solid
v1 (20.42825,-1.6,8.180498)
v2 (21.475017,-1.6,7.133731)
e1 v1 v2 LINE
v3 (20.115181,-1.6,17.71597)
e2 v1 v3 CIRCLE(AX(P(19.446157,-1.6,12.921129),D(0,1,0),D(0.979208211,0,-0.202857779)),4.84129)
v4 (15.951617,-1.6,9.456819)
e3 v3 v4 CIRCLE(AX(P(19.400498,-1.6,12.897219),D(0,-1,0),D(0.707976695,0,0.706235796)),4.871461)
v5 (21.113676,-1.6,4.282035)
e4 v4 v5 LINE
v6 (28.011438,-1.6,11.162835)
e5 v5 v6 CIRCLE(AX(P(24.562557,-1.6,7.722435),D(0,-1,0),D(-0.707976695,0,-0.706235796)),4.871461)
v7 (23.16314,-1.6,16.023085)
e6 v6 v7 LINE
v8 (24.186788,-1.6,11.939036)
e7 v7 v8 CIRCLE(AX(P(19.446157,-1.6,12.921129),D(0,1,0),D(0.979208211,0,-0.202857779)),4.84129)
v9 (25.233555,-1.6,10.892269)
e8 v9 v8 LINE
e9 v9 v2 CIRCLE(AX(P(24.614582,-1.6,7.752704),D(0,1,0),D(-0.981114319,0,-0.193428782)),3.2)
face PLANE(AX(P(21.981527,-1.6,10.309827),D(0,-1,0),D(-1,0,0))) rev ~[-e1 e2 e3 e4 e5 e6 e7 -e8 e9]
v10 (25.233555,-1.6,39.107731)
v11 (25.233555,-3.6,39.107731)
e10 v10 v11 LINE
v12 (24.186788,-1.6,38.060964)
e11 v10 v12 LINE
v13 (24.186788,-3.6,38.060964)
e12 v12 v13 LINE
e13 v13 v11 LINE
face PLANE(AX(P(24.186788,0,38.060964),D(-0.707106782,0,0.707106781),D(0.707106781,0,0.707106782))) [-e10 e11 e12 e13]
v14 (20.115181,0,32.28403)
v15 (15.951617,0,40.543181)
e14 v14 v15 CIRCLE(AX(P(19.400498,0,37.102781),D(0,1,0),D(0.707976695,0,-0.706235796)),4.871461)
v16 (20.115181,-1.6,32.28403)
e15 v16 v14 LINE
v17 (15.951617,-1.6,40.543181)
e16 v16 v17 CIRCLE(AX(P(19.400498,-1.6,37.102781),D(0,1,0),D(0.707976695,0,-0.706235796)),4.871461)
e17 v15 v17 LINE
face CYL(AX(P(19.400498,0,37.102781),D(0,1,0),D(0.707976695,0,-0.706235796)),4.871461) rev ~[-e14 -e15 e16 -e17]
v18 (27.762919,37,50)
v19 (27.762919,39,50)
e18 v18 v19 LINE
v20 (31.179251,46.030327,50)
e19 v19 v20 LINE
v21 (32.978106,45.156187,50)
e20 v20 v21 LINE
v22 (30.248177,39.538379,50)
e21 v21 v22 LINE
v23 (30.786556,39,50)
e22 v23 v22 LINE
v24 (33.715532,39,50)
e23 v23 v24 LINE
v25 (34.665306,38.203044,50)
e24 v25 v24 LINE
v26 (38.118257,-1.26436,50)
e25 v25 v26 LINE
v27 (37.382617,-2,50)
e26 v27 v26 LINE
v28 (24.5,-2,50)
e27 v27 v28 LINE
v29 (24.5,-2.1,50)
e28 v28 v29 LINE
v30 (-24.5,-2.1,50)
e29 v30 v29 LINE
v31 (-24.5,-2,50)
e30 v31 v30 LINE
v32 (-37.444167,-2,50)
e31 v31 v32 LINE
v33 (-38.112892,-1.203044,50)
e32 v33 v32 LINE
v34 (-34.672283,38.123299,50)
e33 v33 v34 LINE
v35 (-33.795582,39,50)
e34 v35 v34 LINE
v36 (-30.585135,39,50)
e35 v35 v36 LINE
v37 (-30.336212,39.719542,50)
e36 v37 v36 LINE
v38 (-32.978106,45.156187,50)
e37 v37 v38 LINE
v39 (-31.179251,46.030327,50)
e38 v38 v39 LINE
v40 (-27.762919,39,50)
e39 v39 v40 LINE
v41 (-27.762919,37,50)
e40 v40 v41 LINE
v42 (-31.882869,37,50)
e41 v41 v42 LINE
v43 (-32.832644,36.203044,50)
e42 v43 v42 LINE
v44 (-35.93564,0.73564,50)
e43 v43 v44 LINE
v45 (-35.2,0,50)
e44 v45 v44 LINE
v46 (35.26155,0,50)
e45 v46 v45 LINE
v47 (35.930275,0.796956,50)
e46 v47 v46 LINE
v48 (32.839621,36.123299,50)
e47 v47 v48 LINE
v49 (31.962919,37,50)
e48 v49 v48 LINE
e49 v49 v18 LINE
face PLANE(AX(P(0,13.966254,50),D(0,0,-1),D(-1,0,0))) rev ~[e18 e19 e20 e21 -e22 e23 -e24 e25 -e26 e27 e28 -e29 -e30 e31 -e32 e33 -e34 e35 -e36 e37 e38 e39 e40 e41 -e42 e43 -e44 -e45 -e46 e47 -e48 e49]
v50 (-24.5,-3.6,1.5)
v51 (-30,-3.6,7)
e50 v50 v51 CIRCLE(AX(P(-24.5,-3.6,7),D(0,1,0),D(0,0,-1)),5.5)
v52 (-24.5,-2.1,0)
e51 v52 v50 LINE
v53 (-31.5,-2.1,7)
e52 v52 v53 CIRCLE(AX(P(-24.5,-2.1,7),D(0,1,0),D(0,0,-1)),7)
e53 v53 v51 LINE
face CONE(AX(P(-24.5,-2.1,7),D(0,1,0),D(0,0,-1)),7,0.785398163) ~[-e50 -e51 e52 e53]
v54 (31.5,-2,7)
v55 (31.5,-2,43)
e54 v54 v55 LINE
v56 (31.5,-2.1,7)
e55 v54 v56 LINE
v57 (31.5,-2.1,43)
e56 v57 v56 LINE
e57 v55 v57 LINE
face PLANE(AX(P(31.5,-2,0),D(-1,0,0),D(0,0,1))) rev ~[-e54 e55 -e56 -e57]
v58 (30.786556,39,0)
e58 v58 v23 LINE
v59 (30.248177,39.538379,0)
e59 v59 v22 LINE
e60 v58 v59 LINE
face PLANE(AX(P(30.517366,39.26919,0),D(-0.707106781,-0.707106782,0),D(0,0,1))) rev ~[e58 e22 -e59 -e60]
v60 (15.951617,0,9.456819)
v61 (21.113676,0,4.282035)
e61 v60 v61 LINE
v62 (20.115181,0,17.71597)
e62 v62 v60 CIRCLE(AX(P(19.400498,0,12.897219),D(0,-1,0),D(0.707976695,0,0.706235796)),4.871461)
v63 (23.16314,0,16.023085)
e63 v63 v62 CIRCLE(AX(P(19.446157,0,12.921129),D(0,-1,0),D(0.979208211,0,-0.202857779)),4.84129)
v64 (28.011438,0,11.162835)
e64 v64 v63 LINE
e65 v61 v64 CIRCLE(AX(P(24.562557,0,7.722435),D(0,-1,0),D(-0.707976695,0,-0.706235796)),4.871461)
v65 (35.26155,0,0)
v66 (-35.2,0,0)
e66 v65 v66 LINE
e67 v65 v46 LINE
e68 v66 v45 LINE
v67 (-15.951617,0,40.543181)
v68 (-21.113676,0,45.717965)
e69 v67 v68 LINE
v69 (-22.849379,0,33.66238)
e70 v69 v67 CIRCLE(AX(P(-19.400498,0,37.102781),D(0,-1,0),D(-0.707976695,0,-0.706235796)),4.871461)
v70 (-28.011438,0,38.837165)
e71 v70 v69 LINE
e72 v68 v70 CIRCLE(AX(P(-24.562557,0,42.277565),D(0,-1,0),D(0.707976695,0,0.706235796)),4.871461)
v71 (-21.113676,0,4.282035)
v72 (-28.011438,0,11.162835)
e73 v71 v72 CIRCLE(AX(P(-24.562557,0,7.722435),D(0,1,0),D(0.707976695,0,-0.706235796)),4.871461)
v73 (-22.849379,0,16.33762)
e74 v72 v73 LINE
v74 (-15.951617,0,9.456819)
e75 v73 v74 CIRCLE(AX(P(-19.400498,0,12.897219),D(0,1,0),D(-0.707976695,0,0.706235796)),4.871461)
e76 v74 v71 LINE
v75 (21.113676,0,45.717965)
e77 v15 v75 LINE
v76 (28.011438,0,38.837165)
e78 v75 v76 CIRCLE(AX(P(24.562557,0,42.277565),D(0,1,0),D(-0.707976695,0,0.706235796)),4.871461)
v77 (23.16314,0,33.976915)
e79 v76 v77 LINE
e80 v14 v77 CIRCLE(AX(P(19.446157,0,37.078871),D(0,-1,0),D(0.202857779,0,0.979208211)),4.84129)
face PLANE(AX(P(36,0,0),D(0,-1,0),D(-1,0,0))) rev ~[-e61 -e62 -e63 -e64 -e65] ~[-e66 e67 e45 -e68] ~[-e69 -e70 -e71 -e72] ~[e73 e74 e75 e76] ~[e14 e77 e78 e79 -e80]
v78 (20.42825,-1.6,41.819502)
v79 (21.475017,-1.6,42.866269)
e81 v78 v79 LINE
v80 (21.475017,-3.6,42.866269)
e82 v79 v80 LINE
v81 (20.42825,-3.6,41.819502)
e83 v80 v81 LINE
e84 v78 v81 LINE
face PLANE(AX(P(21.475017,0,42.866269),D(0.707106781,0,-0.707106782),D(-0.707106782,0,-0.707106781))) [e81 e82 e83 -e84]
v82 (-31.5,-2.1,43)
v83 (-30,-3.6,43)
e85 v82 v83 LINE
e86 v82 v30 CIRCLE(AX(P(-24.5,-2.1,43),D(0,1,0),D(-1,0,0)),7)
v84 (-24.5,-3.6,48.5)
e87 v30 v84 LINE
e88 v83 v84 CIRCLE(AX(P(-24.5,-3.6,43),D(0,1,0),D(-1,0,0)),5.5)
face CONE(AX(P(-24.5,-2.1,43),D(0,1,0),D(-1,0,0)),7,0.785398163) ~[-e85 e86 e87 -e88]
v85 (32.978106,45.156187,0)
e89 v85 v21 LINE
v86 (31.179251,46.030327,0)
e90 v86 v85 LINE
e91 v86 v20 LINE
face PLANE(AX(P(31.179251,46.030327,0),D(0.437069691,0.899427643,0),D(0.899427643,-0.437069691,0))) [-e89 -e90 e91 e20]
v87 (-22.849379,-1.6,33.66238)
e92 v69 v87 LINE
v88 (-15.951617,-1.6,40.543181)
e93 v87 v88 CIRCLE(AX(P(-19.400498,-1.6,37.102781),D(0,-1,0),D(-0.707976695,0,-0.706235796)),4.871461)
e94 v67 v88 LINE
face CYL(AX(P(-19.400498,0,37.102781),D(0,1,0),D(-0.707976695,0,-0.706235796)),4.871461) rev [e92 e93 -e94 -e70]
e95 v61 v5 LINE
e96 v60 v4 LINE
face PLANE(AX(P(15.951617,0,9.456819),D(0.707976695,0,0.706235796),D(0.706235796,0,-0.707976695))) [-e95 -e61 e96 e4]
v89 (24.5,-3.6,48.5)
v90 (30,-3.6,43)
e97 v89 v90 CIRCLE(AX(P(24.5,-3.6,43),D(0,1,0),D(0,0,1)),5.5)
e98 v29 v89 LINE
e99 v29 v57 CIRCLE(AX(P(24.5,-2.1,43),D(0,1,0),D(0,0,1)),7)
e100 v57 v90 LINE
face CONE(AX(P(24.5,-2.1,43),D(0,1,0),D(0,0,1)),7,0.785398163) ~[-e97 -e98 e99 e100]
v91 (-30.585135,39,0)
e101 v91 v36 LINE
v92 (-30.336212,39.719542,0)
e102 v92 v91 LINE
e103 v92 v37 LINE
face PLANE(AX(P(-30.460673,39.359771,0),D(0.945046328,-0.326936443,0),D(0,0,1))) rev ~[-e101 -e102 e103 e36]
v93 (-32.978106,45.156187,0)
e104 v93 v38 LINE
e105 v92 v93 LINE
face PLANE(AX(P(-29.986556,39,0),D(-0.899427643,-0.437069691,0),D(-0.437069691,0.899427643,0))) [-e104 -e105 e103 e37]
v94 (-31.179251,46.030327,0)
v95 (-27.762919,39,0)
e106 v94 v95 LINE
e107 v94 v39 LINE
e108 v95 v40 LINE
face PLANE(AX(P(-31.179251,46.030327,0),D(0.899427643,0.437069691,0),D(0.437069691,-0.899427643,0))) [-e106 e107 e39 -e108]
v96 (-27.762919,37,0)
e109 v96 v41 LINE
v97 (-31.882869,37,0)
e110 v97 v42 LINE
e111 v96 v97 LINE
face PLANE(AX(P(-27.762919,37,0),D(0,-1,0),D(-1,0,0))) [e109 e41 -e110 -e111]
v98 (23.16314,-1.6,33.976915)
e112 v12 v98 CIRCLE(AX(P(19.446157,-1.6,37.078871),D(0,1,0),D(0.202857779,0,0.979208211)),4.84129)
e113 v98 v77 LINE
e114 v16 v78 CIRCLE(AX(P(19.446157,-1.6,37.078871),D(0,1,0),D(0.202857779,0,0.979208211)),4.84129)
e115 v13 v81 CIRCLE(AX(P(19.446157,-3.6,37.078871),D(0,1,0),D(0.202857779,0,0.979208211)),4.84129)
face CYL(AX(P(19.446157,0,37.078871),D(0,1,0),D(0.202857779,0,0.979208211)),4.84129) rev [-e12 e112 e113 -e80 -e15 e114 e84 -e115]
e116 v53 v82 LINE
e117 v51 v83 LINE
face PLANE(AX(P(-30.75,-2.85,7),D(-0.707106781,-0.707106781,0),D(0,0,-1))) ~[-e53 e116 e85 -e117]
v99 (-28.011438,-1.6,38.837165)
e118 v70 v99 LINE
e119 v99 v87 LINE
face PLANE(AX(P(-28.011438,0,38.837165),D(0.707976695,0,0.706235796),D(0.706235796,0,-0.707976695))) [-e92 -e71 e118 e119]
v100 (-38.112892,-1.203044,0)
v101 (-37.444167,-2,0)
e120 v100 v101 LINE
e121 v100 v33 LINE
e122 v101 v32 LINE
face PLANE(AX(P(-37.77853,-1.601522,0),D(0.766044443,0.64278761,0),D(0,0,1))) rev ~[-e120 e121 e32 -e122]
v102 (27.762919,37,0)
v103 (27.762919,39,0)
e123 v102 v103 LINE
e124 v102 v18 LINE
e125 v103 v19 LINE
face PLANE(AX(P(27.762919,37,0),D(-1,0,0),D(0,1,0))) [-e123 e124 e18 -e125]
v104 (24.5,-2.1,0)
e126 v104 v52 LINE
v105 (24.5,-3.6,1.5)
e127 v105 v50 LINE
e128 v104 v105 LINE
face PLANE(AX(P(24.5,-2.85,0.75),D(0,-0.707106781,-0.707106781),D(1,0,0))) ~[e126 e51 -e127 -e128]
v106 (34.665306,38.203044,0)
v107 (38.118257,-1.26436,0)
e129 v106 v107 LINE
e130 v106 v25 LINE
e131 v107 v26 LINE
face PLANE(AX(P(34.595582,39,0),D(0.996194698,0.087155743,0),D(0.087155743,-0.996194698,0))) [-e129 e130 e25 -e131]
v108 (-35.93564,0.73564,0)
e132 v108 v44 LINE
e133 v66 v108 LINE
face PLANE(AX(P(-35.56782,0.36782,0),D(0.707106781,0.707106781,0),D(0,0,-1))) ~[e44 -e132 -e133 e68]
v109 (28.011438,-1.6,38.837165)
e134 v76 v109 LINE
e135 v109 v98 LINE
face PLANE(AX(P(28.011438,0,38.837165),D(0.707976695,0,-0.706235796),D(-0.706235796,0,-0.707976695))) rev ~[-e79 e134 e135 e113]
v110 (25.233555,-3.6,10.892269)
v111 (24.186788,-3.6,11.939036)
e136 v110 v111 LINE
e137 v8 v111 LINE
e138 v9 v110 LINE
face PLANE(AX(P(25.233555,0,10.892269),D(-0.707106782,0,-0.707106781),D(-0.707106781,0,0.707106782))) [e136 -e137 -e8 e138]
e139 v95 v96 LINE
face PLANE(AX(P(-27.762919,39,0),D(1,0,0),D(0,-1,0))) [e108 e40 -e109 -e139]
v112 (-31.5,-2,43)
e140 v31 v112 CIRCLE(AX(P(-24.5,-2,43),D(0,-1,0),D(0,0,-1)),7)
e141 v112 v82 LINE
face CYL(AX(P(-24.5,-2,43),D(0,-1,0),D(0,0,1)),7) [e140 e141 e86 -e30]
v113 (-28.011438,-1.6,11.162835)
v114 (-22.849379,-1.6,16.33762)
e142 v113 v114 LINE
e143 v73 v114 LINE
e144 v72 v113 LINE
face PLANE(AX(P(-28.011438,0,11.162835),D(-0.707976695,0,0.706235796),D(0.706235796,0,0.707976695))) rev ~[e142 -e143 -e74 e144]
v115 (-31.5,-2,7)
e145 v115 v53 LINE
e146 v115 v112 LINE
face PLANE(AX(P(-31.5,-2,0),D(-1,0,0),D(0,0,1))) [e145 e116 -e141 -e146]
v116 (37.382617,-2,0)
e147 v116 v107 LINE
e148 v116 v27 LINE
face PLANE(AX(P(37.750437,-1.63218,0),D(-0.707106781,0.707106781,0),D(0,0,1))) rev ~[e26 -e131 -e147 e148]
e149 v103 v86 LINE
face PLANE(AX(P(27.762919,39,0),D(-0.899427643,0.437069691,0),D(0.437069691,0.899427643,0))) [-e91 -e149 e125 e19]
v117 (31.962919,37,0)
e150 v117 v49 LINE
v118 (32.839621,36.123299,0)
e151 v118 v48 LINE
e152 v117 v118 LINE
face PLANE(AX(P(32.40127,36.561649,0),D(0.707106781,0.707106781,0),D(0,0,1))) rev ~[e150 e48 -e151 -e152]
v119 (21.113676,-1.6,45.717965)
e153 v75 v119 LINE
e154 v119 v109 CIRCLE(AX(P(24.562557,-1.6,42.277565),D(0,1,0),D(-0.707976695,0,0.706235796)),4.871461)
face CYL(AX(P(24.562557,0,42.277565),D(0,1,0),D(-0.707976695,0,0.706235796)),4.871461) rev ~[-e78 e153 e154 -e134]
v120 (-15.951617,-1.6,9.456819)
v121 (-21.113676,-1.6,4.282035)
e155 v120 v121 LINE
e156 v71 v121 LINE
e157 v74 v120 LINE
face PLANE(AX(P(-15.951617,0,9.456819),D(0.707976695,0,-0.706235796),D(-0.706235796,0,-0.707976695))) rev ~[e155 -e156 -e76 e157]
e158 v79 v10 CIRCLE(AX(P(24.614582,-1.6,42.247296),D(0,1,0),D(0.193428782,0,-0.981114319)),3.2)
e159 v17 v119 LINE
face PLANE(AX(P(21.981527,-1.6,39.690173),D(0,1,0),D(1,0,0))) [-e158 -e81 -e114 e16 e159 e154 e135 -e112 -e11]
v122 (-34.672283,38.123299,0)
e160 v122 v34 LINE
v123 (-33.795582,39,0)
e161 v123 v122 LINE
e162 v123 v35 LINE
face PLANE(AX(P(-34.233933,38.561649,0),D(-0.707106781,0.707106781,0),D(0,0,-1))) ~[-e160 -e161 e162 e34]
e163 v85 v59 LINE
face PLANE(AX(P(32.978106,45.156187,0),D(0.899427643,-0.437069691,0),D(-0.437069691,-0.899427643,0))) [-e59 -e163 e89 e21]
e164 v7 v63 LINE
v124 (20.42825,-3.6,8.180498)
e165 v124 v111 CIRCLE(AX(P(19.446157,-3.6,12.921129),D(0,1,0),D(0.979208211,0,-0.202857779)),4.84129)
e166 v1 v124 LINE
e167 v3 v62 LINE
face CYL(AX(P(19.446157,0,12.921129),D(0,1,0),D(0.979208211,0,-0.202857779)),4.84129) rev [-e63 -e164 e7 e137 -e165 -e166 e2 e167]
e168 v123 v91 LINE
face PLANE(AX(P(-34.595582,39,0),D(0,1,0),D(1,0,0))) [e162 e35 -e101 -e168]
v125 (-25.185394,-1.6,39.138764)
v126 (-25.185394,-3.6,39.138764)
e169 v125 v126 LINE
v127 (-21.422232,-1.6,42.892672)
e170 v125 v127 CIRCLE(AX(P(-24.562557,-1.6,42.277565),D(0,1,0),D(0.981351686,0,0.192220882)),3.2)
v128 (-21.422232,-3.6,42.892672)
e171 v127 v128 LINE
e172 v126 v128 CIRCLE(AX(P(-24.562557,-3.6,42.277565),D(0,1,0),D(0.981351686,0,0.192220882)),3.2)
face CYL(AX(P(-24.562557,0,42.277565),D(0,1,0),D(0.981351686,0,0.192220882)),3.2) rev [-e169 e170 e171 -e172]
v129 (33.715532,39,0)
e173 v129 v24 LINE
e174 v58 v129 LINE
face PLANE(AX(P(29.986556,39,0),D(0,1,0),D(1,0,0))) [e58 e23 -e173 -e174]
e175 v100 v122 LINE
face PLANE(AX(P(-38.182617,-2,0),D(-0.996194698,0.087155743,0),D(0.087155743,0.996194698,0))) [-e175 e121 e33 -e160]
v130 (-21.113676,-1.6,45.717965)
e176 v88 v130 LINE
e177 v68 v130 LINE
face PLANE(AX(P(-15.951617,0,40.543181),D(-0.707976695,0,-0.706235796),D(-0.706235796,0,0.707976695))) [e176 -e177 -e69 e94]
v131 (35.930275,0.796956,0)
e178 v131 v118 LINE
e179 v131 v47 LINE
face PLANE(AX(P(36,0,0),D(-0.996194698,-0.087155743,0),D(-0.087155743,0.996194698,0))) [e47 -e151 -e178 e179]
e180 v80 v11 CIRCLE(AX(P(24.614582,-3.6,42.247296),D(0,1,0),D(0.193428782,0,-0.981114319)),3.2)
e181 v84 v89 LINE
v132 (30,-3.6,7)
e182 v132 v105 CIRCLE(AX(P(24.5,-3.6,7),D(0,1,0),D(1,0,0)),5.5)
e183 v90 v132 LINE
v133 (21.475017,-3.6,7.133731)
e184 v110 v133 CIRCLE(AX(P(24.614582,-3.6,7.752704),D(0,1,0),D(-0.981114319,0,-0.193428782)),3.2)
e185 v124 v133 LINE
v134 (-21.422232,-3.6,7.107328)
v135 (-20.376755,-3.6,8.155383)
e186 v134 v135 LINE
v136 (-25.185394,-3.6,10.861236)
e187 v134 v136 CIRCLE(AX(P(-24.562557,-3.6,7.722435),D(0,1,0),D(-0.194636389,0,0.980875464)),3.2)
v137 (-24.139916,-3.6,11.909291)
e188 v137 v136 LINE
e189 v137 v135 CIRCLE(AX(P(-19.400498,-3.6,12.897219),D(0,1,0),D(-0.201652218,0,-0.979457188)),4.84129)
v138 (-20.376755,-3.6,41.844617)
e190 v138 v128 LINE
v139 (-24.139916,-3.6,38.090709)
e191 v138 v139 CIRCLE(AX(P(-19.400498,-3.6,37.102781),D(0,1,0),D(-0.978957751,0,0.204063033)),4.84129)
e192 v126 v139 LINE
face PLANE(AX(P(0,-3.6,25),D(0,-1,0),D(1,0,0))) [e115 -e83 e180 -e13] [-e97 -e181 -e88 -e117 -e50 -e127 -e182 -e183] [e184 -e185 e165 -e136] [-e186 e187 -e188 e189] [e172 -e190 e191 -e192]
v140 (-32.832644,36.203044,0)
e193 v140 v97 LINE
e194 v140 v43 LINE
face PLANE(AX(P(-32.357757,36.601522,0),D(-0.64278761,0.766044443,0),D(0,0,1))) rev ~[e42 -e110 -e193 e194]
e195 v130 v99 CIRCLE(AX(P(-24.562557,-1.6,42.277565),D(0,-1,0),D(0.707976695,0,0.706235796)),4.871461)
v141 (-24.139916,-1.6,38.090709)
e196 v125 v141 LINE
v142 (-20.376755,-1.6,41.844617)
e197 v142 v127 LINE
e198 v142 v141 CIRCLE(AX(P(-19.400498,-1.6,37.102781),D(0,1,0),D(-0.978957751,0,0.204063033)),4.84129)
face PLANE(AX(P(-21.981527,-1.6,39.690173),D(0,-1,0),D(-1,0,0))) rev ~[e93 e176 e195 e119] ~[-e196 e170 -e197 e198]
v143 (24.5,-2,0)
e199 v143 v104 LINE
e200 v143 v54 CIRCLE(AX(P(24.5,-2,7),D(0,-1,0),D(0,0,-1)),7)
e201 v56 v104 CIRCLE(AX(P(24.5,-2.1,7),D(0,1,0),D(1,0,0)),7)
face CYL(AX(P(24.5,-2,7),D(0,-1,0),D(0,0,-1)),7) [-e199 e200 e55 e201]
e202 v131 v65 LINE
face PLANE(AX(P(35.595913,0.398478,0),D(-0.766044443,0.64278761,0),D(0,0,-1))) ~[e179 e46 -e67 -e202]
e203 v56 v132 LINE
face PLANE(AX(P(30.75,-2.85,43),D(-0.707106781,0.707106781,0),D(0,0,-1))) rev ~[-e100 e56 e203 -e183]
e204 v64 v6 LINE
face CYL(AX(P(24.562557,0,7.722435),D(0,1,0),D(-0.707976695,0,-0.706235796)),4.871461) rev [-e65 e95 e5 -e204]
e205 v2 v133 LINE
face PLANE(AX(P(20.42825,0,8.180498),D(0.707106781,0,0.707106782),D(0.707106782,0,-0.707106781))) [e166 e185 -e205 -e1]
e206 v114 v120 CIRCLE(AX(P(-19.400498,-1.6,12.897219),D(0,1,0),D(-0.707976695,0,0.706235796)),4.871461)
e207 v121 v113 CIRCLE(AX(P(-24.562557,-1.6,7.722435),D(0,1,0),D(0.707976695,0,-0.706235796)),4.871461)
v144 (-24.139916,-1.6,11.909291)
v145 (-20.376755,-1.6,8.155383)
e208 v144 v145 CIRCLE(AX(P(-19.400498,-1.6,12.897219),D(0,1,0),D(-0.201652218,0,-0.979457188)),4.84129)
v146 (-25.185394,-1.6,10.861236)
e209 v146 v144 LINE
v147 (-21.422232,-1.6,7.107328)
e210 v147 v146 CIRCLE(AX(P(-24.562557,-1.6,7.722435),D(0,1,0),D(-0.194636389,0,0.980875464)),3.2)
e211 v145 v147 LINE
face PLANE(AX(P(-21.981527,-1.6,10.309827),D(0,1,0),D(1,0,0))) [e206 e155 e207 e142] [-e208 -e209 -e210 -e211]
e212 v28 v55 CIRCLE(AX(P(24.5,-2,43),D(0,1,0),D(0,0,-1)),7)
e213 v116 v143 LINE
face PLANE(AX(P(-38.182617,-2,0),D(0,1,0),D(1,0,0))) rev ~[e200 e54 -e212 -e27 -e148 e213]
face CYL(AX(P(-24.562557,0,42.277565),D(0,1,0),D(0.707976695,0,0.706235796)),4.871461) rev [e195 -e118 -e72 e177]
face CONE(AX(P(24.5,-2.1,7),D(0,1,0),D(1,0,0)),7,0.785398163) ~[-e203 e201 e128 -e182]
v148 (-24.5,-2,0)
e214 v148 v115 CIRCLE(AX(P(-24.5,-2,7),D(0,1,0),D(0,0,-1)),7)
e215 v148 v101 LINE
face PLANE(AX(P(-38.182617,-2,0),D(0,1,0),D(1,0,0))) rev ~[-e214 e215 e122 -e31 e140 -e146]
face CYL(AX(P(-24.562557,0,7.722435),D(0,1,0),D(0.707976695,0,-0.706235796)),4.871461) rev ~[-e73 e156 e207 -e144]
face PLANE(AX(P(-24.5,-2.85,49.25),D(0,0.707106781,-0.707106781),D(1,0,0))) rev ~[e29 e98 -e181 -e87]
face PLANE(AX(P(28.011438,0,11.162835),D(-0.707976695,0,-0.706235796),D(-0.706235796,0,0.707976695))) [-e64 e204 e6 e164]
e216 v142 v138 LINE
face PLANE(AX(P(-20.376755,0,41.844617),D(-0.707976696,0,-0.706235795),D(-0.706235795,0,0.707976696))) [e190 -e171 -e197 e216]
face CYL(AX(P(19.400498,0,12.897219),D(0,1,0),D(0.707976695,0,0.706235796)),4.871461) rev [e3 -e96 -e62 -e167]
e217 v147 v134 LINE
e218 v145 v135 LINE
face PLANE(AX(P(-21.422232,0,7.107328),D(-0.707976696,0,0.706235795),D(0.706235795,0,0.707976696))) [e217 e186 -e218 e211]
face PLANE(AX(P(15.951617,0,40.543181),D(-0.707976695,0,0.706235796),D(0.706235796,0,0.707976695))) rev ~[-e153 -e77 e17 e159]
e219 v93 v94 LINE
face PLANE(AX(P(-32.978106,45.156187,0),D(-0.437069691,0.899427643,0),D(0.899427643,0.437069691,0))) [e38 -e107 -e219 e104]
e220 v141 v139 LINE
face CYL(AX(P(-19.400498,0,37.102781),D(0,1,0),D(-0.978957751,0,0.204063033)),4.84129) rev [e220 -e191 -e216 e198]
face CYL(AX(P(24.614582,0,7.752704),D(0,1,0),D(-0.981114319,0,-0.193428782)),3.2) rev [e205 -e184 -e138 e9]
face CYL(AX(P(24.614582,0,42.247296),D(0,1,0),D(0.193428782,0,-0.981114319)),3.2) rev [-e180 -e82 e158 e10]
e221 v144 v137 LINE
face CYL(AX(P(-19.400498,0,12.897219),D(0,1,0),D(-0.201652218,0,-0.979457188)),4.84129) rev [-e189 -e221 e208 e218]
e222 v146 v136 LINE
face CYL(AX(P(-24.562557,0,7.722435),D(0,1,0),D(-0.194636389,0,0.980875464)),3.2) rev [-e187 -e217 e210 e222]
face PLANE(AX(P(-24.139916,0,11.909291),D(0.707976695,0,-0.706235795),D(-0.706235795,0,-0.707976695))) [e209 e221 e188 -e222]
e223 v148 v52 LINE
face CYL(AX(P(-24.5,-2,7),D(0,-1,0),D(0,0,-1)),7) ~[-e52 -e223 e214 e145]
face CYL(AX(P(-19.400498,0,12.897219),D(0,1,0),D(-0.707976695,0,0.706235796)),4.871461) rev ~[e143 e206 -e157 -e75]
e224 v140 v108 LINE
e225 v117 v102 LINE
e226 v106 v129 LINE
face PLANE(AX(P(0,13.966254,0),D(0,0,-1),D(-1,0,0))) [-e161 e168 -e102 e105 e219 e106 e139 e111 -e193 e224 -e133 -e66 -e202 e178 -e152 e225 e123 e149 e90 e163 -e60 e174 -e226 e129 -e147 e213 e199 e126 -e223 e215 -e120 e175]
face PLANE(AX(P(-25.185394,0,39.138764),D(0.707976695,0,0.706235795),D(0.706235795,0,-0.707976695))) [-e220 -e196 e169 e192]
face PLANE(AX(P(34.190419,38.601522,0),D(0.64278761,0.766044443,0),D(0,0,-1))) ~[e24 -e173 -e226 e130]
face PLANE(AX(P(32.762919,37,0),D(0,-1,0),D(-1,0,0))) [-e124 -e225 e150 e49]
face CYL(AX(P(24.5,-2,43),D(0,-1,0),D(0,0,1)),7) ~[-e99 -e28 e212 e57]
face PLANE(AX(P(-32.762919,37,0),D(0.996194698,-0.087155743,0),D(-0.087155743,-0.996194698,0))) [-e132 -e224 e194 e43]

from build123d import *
from OCP.BRepFilletAPI import BRepFilletAPI_MakeChamfer

# Parameters (mm, degrees)
BOSS_EXTRUDE1_DEPTH = 50
SKETCH5_W           = 63
SKETCH5_H           = 50
BOSS_EXTRUDE2_DEPTH = 1.6
CHAMFER6_SIZE       = 0.8
CHAMFER6_SIZE2      = 0.738449877
CHAMFER7_SIZE       = 0.8
CHAMFER7_SIZE2      = 0.880050294
CHAMFER7_SIZE2_2    = 0.59857957
FILLET1_R           = 7
CHAMFER10_SIZE      = 1.5
CUT_EXTRUDE5_REACH  = 79.922
CUT_EXTRUDE6_DEPTH  = 1.6


with BuildPart() as part:
    # Sketch1 → Boss-Extrude1 (new body)
    with BuildSketch(Plane.XY):
        Polygon((-34.595581798, 39), (-29.986555798, 39), (-32.97810591, 45.15618727), (-31.179250624, 46.030326652), (-27.76291945, 39), (-27.76291945, 37), (-32.76291945, 37), (-36, 0), (0, 0), (36, 0), (32.76291945, 37), (27.76291945, 37), (27.76291945, 39), (31.179250624, 46.030326652), (32.97810591, 45.15618727), (29.986555798, 39), (34.595581798, 39), (38.182617002, -2), (0, -2), (-38.182617002, -2), align=None)
    extrude(amount=BOSS_EXTRUDE1_DEPTH)

    # Sketch5 → Boss-Extrude2 (add)
    with BuildSketch(Plane.XZ.offset(2)):
        with Locations((0, 25)):
            Rectangle(SKETCH5_W, SKETCH5_H)
    extrude(amount=BOSS_EXTRUDE2_DEPTH)

    # Chamfer6: one chamfer whose edges measure the first distance from different faces: ONE call of the kernel's chamfer builder (chamfer() names one face for all edges)
    chamfer6_edges_1 = [part.edges().sort_by_distance(p)[0] for p in [
        (-36, 0, 25),
    ]]
    chamfer6_side_1 = [part.faces().sort_by_distance(p)[0] for p in [
        (0, 0, 25),
    ]]
    chamfer6_edges_2 = [part.edges().sort_by_distance(p)[0] for p in [
        (36, 0, 25),
    ]]
    chamfer6_side_2 = [part.faces().sort_by_distance(p)[0] for p in [
        (34.381459725, 18.5, 25),
    ]]
    chamfer6_edges_3 = [part.edges().sort_by_distance(p)[0] for p in [
        (38.182617002, -2, 25),
    ]]
    chamfer6_side_3 = [part.faces().sort_by_distance(p)[0] for p in [
        (34.841308501, -2, 25),
    ]]
    chamfer6_edges_4 = [part.edges().sort_by_distance(p)[0] for p in [
        (-38.182617002, -2, 25),
    ]]
    chamfer6_side_4 = [part.faces().sort_by_distance(p)[0] for p in [
        (-36.3890994, 18.5, 25),
    ]]
    chamfer6 = BRepFilletAPI_MakeChamfer(part.part.solid().wrapped)
    for e in chamfer6_edges_1:
        chamfer6.Add(CHAMFER6_SIZE, CHAMFER6_SIZE2, e.wrapped, chamfer6_side_1[0].wrapped)  # the first distance lies on this face
    for e in chamfer6_edges_2:
        chamfer6.Add(CHAMFER6_SIZE, CHAMFER6_SIZE2, e.wrapped, chamfer6_side_2[0].wrapped)  # the first distance lies on this face
    for e in chamfer6_edges_3:
        chamfer6.Add(CHAMFER6_SIZE, CHAMFER6_SIZE2, e.wrapped, chamfer6_side_3[0].wrapped)  # the first distance lies on this face
    for e in chamfer6_edges_4:
        chamfer6.Add(CHAMFER6_SIZE, CHAMFER6_SIZE2, e.wrapped, chamfer6_side_4[0].wrapped)  # the first distance lies on this face
    add(Compound.cast(chamfer6.Shape()), mode=Mode.REPLACE)

    # Chamfer7: one chamfer whose edges measure the first distance from different faces: ONE call of the kernel's chamfer builder (chamfer() names one face for all edges)
    chamfer7_edges_1 = [part.edges().sort_by_distance(p)[0] for p in [
        (-32.76291945, 37, 25),
    ]]
    chamfer7_side_1 = [part.faces().sort_by_distance(p)[0] for p in [
        (-34.349279651, 18.867819926, 25),
    ]]
    chamfer7_edges_2 = [part.edges().sort_by_distance(p)[0] for p in [
        (32.76291945, 37, 25),
    ]]
    chamfer7_side_2 = [part.faces().sort_by_distance(p)[0] for p in [
        (30.26291945, 37, 25),
    ]]
    chamfer7_edges_3 = [part.edges().sort_by_distance(p)[0] for p in [
        (29.986555798, 39, 25),
    ]]
    chamfer7_side_3 = [part.faces().sort_by_distance(p)[0] for p in [
        (32.291068798, 39, 25),
    ]]
    chamfer7_edges_4 = [part.edges().sort_by_distance(p)[0] for p in [
        (34.595581798, 39, 25),
    ]]
    chamfer7_side_4 = [part.faces().sort_by_distance(p)[0] for p in [
        (36.356919326, 18.867819926, 25),
    ]]
    chamfer7_edges_5 = [part.edges().sort_by_distance(p)[0] for p in [
        (-34.595581798, 39, 25),
    ]]
    chamfer7_side_5 = [part.faces().sort_by_distance(p)[0] for p in [
        (-32.291068798, 39, 25),
    ]]
    chamfer7_edges_6 = [part.edges().sort_by_distance(p)[0] for p in [
        (-29.986555798, 39, 25),
    ]]
    chamfer7_side_6 = [part.faces().sort_by_distance(p)[0] for p in [
        (-31.482330854, 42.078093635, 25),
    ]]
    chamfer7 = BRepFilletAPI_MakeChamfer(part.part.solid().wrapped)
    for e in chamfer7_edges_1:
        chamfer7.Add(CHAMFER7_SIZE, CHAMFER7_SIZE2, e.wrapped, chamfer7_side_1[0].wrapped)  # the first distance lies on this face
    for e in chamfer7_edges_2:
        chamfer7.Add(CHAMFER7_SIZE, CHAMFER7_SIZE2, e.wrapped, chamfer7_side_2[0].wrapped)  # the first distance lies on this face
    for e in chamfer7_edges_3:
        chamfer7.Add(CHAMFER7_SIZE, CHAMFER7_SIZE2_2, e.wrapped, chamfer7_side_3[0].wrapped)  # the first distance lies on this face
    for e in chamfer7_edges_4:
        chamfer7.Add(CHAMFER7_SIZE, CHAMFER7_SIZE2, e.wrapped, chamfer7_side_4[0].wrapped)  # the first distance lies on this face
    for e in chamfer7_edges_5:
        chamfer7.Add(CHAMFER7_SIZE, CHAMFER7_SIZE2, e.wrapped, chamfer7_side_5[0].wrapped)  # the first distance lies on this face
    for e in chamfer7_edges_6:
        chamfer7.Add(CHAMFER7_SIZE, CHAMFER7_SIZE2_2, e.wrapped, chamfer7_side_6[0].wrapped)  # the first distance lies on this face
    add(Compound.cast(chamfer7.Shape()), mode=Mode.REPLACE)

    # Fillet1
    fillet1_edges = [part.edges().sort_by_distance(p)[0] for p in [
        (-31.5, -2.8, 0),
        (31.5, -2.8, 0),
        (31.5, -2.8, 50),
        (-31.5, -2.8, 50),
    ]]
    fillet(fillet1_edges, radius=FILLET1_R)

    # Chamfer10
    chamfer10_edges = [part.edges().sort_by_distance(p)[0] for p in [
        (-31.5, -3.6, 25),
        (0, -3.6, 50),
        (0, -3.6, 0),
        (31.5, -3.6, 25),
        (29.449747468, -3.6, 47.949747468),
        (29.449747468, -3.6, 2.050252532),
        (-29.449747468, -3.6, 2.050252532),
        (-29.449747468, -3.6, 47.949747468),
    ]]
    chamfer(chamfer10_edges, length=CHAMFER10_SIZE)

    # Sketch15 → Cut-Extrude5 (cut, up to next)
    with BuildSketch(Plane(origin=(0, 0, 0), x_dir=(1, 0, 0), z_dir=(0, 1, 0)), mode=Mode.PRIVATE) as cut_extrude5_sk1:
        with BuildLine():
            Line((21.475016583, -42.866268583), (20.428249938, -41.819501939))
            ThreePointArc((20.428249938, -41.819501939), (16.022847213, -33.655561292), (24.186787861, -38.060964016))
            Line((24.186787861, -38.060964016), (25.233554505, -39.107730661))
            ThreePointArc((25.233554505, -39.107730661), (26.877324102, -44.51003818), (21.475016583, -42.866268583))
        make_face()
    cut_extrude5_tool1 = extrude(cut_extrude5_sk1.sketch, amount=-CUT_EXTRUDE5_REACH, mode=Mode.PRIVATE) & part.part
    # Sketch15 → Cut-Extrude5 (cut, up to next)
    with BuildSketch(Plane(origin=(0, 0, 0), x_dir=(1, 0, 0), z_dir=(0, 1, 0)), mode=Mode.PRIVATE) as cut_extrude5_sk2:
        with BuildLine():
            Line((-25.185393692, -39.138763585), (-24.139916413, -38.090709162))
            ThreePointArc((-24.139916413, -38.090709162), (-15.98140501, -33.675259948), (-20.37675457, -41.844617469))
            Line((-20.37675457, -41.844617469), (-21.422231849, -42.892671893))
            ThreePointArc((-21.422231849, -42.892671893), (-26.822511792, -44.543090495), (-25.185393692, -39.138763585))
        make_face()
    cut_extrude5_tool2 = extrude(cut_extrude5_sk2.sketch, amount=-CUT_EXTRUDE5_REACH, mode=Mode.PRIVATE) & part.part
    # Sketch15 → Cut-Extrude5 (cut, up to next)
    with BuildSketch(Plane(origin=(0, 0, 0), x_dir=(1, 0, 0), z_dir=(0, 1, 0)), mode=Mode.PRIVATE) as cut_extrude5_sk3:
        with BuildLine():
            Line((25.233554505, -10.892269339), (24.186787861, -11.939035984))
            ThreePointArc((24.186787861, -11.939035984), (16.022847213, -16.344438708), (20.428249938, -8.180498061))
            Line((20.428249938, -8.180498061), (21.475016583, -7.133731417))
            ThreePointArc((21.475016583, -7.133731417), (26.877324102, -5.48996182), (25.233554505, -10.892269339))
        make_face()
    cut_extrude5_tool3 = extrude(cut_extrude5_sk3.sketch, amount=-CUT_EXTRUDE5_REACH, mode=Mode.PRIVATE) & part.part
    # Sketch15 → Cut-Extrude5 (cut, up to next)
    with BuildSketch(Plane(origin=(0, 0, 0), x_dir=(1, 0, 0), z_dir=(0, 1, 0)), mode=Mode.PRIVATE) as cut_extrude5_sk4:
        with BuildLine():
            Line((-21.422231849, -7.107328107), (-20.37675457, -8.155382531))
            ThreePointArc((-20.37675457, -8.155382531), (-15.98140501, -16.324740052), (-24.139916413, -11.909290838))
            Line((-24.139916413, -11.909290838), (-25.185393692, -10.861236415))
            ThreePointArc((-25.185393692, -10.861236415), (-26.822511792, -5.456909505), (-21.422231849, -7.107328107))
        make_face()
    cut_extrude5_tool4 = extrude(cut_extrude5_sk4.sketch, amount=-CUT_EXTRUDE5_REACH, mode=Mode.PRIVATE) & part.part
    add(cut_extrude5_tool1.solids().sort_by_distance((21.014912, 0, 38.647626))[0], mode=Mode.SUBTRACT)
    add(cut_extrude5_tool2.solids().sort_by_distance((-20.96732, 0, 38.673466))[0], mode=Mode.SUBTRACT)
    add(cut_extrude5_tool3.solids().sort_by_distance((21.014912, 0, 11.352374))[0], mode=Mode.SUBTRACT)
    add(cut_extrude5_tool4.solids().sort_by_distance((-20.96732, 0, 11.326534))[0], mode=Mode.SUBTRACT)

    # Sketch16 → Cut-Extrude6 (cut)
    with BuildSketch(Plane(origin=(0, 0, 0), x_dir=(1, 0, 0), z_dir=(0, 1, 0))):
        with BuildLine():
            Line((-15.951616609, -40.543181032), (-21.113676241, -45.71796535))
            ThreePointArc((-21.113676241, -45.71796535), (-28.002957525, -45.726446075), (-28.011438251, -38.837164791))
            Line((-28.011438251, -38.837164791), (-22.849378618, -33.662380473))
            ThreePointArc((-22.849378618, -33.662380473), (-15.960097334, -33.653899748), (-15.951616609, -40.543181032))
        make_face()
        with BuildLine():
            Line((-15.951616609, -9.456818968), (-21.113676241, -4.28203465))
            ThreePointArc((-21.113676241, -4.28203465), (-28.002957525, -4.273553925), (-28.011438251, -11.162835209))
            Line((-28.011438251, -11.162835209), (-22.849378618, -16.337619527))
            ThreePointArc((-22.849378618, -16.337619527), (-15.960097334, -16.346100252), (-15.951616609, -9.456818968))
        make_face()
        with BuildLine():
            Line((15.951616609, -40.543181032), (21.113676241, -45.71796535))
            ThreePointArc((21.113676241, -45.71796535), (28.002957525, -45.726446075), (28.011438251, -38.837164791))
            Line((28.011438251, -38.837164791), (22.849378618, -33.662380473))
            ThreePointArc((22.849378618, -33.662380473), (15.960097334, -33.653899748), (15.951616609, -40.543181032))
        make_face()
        with BuildLine():
            Line((15.951616609, -9.456818968), (21.113676241, -4.28203465))
            ThreePointArc((21.113676241, -4.28203465), (28.002957525, -4.273553925), (28.011438251, -11.162835209))
            Line((28.011438251, -11.162835209), (22.849378618, -16.337619527))
            ThreePointArc((22.849378618, -16.337619527), (15.960097334, -16.346100252), (15.951616609, -9.456818968))
        make_face()
    extrude(amount=-CUT_EXTRUDE6_DEPTH, mode=Mode.SUBTRACT)


solid = part.part
